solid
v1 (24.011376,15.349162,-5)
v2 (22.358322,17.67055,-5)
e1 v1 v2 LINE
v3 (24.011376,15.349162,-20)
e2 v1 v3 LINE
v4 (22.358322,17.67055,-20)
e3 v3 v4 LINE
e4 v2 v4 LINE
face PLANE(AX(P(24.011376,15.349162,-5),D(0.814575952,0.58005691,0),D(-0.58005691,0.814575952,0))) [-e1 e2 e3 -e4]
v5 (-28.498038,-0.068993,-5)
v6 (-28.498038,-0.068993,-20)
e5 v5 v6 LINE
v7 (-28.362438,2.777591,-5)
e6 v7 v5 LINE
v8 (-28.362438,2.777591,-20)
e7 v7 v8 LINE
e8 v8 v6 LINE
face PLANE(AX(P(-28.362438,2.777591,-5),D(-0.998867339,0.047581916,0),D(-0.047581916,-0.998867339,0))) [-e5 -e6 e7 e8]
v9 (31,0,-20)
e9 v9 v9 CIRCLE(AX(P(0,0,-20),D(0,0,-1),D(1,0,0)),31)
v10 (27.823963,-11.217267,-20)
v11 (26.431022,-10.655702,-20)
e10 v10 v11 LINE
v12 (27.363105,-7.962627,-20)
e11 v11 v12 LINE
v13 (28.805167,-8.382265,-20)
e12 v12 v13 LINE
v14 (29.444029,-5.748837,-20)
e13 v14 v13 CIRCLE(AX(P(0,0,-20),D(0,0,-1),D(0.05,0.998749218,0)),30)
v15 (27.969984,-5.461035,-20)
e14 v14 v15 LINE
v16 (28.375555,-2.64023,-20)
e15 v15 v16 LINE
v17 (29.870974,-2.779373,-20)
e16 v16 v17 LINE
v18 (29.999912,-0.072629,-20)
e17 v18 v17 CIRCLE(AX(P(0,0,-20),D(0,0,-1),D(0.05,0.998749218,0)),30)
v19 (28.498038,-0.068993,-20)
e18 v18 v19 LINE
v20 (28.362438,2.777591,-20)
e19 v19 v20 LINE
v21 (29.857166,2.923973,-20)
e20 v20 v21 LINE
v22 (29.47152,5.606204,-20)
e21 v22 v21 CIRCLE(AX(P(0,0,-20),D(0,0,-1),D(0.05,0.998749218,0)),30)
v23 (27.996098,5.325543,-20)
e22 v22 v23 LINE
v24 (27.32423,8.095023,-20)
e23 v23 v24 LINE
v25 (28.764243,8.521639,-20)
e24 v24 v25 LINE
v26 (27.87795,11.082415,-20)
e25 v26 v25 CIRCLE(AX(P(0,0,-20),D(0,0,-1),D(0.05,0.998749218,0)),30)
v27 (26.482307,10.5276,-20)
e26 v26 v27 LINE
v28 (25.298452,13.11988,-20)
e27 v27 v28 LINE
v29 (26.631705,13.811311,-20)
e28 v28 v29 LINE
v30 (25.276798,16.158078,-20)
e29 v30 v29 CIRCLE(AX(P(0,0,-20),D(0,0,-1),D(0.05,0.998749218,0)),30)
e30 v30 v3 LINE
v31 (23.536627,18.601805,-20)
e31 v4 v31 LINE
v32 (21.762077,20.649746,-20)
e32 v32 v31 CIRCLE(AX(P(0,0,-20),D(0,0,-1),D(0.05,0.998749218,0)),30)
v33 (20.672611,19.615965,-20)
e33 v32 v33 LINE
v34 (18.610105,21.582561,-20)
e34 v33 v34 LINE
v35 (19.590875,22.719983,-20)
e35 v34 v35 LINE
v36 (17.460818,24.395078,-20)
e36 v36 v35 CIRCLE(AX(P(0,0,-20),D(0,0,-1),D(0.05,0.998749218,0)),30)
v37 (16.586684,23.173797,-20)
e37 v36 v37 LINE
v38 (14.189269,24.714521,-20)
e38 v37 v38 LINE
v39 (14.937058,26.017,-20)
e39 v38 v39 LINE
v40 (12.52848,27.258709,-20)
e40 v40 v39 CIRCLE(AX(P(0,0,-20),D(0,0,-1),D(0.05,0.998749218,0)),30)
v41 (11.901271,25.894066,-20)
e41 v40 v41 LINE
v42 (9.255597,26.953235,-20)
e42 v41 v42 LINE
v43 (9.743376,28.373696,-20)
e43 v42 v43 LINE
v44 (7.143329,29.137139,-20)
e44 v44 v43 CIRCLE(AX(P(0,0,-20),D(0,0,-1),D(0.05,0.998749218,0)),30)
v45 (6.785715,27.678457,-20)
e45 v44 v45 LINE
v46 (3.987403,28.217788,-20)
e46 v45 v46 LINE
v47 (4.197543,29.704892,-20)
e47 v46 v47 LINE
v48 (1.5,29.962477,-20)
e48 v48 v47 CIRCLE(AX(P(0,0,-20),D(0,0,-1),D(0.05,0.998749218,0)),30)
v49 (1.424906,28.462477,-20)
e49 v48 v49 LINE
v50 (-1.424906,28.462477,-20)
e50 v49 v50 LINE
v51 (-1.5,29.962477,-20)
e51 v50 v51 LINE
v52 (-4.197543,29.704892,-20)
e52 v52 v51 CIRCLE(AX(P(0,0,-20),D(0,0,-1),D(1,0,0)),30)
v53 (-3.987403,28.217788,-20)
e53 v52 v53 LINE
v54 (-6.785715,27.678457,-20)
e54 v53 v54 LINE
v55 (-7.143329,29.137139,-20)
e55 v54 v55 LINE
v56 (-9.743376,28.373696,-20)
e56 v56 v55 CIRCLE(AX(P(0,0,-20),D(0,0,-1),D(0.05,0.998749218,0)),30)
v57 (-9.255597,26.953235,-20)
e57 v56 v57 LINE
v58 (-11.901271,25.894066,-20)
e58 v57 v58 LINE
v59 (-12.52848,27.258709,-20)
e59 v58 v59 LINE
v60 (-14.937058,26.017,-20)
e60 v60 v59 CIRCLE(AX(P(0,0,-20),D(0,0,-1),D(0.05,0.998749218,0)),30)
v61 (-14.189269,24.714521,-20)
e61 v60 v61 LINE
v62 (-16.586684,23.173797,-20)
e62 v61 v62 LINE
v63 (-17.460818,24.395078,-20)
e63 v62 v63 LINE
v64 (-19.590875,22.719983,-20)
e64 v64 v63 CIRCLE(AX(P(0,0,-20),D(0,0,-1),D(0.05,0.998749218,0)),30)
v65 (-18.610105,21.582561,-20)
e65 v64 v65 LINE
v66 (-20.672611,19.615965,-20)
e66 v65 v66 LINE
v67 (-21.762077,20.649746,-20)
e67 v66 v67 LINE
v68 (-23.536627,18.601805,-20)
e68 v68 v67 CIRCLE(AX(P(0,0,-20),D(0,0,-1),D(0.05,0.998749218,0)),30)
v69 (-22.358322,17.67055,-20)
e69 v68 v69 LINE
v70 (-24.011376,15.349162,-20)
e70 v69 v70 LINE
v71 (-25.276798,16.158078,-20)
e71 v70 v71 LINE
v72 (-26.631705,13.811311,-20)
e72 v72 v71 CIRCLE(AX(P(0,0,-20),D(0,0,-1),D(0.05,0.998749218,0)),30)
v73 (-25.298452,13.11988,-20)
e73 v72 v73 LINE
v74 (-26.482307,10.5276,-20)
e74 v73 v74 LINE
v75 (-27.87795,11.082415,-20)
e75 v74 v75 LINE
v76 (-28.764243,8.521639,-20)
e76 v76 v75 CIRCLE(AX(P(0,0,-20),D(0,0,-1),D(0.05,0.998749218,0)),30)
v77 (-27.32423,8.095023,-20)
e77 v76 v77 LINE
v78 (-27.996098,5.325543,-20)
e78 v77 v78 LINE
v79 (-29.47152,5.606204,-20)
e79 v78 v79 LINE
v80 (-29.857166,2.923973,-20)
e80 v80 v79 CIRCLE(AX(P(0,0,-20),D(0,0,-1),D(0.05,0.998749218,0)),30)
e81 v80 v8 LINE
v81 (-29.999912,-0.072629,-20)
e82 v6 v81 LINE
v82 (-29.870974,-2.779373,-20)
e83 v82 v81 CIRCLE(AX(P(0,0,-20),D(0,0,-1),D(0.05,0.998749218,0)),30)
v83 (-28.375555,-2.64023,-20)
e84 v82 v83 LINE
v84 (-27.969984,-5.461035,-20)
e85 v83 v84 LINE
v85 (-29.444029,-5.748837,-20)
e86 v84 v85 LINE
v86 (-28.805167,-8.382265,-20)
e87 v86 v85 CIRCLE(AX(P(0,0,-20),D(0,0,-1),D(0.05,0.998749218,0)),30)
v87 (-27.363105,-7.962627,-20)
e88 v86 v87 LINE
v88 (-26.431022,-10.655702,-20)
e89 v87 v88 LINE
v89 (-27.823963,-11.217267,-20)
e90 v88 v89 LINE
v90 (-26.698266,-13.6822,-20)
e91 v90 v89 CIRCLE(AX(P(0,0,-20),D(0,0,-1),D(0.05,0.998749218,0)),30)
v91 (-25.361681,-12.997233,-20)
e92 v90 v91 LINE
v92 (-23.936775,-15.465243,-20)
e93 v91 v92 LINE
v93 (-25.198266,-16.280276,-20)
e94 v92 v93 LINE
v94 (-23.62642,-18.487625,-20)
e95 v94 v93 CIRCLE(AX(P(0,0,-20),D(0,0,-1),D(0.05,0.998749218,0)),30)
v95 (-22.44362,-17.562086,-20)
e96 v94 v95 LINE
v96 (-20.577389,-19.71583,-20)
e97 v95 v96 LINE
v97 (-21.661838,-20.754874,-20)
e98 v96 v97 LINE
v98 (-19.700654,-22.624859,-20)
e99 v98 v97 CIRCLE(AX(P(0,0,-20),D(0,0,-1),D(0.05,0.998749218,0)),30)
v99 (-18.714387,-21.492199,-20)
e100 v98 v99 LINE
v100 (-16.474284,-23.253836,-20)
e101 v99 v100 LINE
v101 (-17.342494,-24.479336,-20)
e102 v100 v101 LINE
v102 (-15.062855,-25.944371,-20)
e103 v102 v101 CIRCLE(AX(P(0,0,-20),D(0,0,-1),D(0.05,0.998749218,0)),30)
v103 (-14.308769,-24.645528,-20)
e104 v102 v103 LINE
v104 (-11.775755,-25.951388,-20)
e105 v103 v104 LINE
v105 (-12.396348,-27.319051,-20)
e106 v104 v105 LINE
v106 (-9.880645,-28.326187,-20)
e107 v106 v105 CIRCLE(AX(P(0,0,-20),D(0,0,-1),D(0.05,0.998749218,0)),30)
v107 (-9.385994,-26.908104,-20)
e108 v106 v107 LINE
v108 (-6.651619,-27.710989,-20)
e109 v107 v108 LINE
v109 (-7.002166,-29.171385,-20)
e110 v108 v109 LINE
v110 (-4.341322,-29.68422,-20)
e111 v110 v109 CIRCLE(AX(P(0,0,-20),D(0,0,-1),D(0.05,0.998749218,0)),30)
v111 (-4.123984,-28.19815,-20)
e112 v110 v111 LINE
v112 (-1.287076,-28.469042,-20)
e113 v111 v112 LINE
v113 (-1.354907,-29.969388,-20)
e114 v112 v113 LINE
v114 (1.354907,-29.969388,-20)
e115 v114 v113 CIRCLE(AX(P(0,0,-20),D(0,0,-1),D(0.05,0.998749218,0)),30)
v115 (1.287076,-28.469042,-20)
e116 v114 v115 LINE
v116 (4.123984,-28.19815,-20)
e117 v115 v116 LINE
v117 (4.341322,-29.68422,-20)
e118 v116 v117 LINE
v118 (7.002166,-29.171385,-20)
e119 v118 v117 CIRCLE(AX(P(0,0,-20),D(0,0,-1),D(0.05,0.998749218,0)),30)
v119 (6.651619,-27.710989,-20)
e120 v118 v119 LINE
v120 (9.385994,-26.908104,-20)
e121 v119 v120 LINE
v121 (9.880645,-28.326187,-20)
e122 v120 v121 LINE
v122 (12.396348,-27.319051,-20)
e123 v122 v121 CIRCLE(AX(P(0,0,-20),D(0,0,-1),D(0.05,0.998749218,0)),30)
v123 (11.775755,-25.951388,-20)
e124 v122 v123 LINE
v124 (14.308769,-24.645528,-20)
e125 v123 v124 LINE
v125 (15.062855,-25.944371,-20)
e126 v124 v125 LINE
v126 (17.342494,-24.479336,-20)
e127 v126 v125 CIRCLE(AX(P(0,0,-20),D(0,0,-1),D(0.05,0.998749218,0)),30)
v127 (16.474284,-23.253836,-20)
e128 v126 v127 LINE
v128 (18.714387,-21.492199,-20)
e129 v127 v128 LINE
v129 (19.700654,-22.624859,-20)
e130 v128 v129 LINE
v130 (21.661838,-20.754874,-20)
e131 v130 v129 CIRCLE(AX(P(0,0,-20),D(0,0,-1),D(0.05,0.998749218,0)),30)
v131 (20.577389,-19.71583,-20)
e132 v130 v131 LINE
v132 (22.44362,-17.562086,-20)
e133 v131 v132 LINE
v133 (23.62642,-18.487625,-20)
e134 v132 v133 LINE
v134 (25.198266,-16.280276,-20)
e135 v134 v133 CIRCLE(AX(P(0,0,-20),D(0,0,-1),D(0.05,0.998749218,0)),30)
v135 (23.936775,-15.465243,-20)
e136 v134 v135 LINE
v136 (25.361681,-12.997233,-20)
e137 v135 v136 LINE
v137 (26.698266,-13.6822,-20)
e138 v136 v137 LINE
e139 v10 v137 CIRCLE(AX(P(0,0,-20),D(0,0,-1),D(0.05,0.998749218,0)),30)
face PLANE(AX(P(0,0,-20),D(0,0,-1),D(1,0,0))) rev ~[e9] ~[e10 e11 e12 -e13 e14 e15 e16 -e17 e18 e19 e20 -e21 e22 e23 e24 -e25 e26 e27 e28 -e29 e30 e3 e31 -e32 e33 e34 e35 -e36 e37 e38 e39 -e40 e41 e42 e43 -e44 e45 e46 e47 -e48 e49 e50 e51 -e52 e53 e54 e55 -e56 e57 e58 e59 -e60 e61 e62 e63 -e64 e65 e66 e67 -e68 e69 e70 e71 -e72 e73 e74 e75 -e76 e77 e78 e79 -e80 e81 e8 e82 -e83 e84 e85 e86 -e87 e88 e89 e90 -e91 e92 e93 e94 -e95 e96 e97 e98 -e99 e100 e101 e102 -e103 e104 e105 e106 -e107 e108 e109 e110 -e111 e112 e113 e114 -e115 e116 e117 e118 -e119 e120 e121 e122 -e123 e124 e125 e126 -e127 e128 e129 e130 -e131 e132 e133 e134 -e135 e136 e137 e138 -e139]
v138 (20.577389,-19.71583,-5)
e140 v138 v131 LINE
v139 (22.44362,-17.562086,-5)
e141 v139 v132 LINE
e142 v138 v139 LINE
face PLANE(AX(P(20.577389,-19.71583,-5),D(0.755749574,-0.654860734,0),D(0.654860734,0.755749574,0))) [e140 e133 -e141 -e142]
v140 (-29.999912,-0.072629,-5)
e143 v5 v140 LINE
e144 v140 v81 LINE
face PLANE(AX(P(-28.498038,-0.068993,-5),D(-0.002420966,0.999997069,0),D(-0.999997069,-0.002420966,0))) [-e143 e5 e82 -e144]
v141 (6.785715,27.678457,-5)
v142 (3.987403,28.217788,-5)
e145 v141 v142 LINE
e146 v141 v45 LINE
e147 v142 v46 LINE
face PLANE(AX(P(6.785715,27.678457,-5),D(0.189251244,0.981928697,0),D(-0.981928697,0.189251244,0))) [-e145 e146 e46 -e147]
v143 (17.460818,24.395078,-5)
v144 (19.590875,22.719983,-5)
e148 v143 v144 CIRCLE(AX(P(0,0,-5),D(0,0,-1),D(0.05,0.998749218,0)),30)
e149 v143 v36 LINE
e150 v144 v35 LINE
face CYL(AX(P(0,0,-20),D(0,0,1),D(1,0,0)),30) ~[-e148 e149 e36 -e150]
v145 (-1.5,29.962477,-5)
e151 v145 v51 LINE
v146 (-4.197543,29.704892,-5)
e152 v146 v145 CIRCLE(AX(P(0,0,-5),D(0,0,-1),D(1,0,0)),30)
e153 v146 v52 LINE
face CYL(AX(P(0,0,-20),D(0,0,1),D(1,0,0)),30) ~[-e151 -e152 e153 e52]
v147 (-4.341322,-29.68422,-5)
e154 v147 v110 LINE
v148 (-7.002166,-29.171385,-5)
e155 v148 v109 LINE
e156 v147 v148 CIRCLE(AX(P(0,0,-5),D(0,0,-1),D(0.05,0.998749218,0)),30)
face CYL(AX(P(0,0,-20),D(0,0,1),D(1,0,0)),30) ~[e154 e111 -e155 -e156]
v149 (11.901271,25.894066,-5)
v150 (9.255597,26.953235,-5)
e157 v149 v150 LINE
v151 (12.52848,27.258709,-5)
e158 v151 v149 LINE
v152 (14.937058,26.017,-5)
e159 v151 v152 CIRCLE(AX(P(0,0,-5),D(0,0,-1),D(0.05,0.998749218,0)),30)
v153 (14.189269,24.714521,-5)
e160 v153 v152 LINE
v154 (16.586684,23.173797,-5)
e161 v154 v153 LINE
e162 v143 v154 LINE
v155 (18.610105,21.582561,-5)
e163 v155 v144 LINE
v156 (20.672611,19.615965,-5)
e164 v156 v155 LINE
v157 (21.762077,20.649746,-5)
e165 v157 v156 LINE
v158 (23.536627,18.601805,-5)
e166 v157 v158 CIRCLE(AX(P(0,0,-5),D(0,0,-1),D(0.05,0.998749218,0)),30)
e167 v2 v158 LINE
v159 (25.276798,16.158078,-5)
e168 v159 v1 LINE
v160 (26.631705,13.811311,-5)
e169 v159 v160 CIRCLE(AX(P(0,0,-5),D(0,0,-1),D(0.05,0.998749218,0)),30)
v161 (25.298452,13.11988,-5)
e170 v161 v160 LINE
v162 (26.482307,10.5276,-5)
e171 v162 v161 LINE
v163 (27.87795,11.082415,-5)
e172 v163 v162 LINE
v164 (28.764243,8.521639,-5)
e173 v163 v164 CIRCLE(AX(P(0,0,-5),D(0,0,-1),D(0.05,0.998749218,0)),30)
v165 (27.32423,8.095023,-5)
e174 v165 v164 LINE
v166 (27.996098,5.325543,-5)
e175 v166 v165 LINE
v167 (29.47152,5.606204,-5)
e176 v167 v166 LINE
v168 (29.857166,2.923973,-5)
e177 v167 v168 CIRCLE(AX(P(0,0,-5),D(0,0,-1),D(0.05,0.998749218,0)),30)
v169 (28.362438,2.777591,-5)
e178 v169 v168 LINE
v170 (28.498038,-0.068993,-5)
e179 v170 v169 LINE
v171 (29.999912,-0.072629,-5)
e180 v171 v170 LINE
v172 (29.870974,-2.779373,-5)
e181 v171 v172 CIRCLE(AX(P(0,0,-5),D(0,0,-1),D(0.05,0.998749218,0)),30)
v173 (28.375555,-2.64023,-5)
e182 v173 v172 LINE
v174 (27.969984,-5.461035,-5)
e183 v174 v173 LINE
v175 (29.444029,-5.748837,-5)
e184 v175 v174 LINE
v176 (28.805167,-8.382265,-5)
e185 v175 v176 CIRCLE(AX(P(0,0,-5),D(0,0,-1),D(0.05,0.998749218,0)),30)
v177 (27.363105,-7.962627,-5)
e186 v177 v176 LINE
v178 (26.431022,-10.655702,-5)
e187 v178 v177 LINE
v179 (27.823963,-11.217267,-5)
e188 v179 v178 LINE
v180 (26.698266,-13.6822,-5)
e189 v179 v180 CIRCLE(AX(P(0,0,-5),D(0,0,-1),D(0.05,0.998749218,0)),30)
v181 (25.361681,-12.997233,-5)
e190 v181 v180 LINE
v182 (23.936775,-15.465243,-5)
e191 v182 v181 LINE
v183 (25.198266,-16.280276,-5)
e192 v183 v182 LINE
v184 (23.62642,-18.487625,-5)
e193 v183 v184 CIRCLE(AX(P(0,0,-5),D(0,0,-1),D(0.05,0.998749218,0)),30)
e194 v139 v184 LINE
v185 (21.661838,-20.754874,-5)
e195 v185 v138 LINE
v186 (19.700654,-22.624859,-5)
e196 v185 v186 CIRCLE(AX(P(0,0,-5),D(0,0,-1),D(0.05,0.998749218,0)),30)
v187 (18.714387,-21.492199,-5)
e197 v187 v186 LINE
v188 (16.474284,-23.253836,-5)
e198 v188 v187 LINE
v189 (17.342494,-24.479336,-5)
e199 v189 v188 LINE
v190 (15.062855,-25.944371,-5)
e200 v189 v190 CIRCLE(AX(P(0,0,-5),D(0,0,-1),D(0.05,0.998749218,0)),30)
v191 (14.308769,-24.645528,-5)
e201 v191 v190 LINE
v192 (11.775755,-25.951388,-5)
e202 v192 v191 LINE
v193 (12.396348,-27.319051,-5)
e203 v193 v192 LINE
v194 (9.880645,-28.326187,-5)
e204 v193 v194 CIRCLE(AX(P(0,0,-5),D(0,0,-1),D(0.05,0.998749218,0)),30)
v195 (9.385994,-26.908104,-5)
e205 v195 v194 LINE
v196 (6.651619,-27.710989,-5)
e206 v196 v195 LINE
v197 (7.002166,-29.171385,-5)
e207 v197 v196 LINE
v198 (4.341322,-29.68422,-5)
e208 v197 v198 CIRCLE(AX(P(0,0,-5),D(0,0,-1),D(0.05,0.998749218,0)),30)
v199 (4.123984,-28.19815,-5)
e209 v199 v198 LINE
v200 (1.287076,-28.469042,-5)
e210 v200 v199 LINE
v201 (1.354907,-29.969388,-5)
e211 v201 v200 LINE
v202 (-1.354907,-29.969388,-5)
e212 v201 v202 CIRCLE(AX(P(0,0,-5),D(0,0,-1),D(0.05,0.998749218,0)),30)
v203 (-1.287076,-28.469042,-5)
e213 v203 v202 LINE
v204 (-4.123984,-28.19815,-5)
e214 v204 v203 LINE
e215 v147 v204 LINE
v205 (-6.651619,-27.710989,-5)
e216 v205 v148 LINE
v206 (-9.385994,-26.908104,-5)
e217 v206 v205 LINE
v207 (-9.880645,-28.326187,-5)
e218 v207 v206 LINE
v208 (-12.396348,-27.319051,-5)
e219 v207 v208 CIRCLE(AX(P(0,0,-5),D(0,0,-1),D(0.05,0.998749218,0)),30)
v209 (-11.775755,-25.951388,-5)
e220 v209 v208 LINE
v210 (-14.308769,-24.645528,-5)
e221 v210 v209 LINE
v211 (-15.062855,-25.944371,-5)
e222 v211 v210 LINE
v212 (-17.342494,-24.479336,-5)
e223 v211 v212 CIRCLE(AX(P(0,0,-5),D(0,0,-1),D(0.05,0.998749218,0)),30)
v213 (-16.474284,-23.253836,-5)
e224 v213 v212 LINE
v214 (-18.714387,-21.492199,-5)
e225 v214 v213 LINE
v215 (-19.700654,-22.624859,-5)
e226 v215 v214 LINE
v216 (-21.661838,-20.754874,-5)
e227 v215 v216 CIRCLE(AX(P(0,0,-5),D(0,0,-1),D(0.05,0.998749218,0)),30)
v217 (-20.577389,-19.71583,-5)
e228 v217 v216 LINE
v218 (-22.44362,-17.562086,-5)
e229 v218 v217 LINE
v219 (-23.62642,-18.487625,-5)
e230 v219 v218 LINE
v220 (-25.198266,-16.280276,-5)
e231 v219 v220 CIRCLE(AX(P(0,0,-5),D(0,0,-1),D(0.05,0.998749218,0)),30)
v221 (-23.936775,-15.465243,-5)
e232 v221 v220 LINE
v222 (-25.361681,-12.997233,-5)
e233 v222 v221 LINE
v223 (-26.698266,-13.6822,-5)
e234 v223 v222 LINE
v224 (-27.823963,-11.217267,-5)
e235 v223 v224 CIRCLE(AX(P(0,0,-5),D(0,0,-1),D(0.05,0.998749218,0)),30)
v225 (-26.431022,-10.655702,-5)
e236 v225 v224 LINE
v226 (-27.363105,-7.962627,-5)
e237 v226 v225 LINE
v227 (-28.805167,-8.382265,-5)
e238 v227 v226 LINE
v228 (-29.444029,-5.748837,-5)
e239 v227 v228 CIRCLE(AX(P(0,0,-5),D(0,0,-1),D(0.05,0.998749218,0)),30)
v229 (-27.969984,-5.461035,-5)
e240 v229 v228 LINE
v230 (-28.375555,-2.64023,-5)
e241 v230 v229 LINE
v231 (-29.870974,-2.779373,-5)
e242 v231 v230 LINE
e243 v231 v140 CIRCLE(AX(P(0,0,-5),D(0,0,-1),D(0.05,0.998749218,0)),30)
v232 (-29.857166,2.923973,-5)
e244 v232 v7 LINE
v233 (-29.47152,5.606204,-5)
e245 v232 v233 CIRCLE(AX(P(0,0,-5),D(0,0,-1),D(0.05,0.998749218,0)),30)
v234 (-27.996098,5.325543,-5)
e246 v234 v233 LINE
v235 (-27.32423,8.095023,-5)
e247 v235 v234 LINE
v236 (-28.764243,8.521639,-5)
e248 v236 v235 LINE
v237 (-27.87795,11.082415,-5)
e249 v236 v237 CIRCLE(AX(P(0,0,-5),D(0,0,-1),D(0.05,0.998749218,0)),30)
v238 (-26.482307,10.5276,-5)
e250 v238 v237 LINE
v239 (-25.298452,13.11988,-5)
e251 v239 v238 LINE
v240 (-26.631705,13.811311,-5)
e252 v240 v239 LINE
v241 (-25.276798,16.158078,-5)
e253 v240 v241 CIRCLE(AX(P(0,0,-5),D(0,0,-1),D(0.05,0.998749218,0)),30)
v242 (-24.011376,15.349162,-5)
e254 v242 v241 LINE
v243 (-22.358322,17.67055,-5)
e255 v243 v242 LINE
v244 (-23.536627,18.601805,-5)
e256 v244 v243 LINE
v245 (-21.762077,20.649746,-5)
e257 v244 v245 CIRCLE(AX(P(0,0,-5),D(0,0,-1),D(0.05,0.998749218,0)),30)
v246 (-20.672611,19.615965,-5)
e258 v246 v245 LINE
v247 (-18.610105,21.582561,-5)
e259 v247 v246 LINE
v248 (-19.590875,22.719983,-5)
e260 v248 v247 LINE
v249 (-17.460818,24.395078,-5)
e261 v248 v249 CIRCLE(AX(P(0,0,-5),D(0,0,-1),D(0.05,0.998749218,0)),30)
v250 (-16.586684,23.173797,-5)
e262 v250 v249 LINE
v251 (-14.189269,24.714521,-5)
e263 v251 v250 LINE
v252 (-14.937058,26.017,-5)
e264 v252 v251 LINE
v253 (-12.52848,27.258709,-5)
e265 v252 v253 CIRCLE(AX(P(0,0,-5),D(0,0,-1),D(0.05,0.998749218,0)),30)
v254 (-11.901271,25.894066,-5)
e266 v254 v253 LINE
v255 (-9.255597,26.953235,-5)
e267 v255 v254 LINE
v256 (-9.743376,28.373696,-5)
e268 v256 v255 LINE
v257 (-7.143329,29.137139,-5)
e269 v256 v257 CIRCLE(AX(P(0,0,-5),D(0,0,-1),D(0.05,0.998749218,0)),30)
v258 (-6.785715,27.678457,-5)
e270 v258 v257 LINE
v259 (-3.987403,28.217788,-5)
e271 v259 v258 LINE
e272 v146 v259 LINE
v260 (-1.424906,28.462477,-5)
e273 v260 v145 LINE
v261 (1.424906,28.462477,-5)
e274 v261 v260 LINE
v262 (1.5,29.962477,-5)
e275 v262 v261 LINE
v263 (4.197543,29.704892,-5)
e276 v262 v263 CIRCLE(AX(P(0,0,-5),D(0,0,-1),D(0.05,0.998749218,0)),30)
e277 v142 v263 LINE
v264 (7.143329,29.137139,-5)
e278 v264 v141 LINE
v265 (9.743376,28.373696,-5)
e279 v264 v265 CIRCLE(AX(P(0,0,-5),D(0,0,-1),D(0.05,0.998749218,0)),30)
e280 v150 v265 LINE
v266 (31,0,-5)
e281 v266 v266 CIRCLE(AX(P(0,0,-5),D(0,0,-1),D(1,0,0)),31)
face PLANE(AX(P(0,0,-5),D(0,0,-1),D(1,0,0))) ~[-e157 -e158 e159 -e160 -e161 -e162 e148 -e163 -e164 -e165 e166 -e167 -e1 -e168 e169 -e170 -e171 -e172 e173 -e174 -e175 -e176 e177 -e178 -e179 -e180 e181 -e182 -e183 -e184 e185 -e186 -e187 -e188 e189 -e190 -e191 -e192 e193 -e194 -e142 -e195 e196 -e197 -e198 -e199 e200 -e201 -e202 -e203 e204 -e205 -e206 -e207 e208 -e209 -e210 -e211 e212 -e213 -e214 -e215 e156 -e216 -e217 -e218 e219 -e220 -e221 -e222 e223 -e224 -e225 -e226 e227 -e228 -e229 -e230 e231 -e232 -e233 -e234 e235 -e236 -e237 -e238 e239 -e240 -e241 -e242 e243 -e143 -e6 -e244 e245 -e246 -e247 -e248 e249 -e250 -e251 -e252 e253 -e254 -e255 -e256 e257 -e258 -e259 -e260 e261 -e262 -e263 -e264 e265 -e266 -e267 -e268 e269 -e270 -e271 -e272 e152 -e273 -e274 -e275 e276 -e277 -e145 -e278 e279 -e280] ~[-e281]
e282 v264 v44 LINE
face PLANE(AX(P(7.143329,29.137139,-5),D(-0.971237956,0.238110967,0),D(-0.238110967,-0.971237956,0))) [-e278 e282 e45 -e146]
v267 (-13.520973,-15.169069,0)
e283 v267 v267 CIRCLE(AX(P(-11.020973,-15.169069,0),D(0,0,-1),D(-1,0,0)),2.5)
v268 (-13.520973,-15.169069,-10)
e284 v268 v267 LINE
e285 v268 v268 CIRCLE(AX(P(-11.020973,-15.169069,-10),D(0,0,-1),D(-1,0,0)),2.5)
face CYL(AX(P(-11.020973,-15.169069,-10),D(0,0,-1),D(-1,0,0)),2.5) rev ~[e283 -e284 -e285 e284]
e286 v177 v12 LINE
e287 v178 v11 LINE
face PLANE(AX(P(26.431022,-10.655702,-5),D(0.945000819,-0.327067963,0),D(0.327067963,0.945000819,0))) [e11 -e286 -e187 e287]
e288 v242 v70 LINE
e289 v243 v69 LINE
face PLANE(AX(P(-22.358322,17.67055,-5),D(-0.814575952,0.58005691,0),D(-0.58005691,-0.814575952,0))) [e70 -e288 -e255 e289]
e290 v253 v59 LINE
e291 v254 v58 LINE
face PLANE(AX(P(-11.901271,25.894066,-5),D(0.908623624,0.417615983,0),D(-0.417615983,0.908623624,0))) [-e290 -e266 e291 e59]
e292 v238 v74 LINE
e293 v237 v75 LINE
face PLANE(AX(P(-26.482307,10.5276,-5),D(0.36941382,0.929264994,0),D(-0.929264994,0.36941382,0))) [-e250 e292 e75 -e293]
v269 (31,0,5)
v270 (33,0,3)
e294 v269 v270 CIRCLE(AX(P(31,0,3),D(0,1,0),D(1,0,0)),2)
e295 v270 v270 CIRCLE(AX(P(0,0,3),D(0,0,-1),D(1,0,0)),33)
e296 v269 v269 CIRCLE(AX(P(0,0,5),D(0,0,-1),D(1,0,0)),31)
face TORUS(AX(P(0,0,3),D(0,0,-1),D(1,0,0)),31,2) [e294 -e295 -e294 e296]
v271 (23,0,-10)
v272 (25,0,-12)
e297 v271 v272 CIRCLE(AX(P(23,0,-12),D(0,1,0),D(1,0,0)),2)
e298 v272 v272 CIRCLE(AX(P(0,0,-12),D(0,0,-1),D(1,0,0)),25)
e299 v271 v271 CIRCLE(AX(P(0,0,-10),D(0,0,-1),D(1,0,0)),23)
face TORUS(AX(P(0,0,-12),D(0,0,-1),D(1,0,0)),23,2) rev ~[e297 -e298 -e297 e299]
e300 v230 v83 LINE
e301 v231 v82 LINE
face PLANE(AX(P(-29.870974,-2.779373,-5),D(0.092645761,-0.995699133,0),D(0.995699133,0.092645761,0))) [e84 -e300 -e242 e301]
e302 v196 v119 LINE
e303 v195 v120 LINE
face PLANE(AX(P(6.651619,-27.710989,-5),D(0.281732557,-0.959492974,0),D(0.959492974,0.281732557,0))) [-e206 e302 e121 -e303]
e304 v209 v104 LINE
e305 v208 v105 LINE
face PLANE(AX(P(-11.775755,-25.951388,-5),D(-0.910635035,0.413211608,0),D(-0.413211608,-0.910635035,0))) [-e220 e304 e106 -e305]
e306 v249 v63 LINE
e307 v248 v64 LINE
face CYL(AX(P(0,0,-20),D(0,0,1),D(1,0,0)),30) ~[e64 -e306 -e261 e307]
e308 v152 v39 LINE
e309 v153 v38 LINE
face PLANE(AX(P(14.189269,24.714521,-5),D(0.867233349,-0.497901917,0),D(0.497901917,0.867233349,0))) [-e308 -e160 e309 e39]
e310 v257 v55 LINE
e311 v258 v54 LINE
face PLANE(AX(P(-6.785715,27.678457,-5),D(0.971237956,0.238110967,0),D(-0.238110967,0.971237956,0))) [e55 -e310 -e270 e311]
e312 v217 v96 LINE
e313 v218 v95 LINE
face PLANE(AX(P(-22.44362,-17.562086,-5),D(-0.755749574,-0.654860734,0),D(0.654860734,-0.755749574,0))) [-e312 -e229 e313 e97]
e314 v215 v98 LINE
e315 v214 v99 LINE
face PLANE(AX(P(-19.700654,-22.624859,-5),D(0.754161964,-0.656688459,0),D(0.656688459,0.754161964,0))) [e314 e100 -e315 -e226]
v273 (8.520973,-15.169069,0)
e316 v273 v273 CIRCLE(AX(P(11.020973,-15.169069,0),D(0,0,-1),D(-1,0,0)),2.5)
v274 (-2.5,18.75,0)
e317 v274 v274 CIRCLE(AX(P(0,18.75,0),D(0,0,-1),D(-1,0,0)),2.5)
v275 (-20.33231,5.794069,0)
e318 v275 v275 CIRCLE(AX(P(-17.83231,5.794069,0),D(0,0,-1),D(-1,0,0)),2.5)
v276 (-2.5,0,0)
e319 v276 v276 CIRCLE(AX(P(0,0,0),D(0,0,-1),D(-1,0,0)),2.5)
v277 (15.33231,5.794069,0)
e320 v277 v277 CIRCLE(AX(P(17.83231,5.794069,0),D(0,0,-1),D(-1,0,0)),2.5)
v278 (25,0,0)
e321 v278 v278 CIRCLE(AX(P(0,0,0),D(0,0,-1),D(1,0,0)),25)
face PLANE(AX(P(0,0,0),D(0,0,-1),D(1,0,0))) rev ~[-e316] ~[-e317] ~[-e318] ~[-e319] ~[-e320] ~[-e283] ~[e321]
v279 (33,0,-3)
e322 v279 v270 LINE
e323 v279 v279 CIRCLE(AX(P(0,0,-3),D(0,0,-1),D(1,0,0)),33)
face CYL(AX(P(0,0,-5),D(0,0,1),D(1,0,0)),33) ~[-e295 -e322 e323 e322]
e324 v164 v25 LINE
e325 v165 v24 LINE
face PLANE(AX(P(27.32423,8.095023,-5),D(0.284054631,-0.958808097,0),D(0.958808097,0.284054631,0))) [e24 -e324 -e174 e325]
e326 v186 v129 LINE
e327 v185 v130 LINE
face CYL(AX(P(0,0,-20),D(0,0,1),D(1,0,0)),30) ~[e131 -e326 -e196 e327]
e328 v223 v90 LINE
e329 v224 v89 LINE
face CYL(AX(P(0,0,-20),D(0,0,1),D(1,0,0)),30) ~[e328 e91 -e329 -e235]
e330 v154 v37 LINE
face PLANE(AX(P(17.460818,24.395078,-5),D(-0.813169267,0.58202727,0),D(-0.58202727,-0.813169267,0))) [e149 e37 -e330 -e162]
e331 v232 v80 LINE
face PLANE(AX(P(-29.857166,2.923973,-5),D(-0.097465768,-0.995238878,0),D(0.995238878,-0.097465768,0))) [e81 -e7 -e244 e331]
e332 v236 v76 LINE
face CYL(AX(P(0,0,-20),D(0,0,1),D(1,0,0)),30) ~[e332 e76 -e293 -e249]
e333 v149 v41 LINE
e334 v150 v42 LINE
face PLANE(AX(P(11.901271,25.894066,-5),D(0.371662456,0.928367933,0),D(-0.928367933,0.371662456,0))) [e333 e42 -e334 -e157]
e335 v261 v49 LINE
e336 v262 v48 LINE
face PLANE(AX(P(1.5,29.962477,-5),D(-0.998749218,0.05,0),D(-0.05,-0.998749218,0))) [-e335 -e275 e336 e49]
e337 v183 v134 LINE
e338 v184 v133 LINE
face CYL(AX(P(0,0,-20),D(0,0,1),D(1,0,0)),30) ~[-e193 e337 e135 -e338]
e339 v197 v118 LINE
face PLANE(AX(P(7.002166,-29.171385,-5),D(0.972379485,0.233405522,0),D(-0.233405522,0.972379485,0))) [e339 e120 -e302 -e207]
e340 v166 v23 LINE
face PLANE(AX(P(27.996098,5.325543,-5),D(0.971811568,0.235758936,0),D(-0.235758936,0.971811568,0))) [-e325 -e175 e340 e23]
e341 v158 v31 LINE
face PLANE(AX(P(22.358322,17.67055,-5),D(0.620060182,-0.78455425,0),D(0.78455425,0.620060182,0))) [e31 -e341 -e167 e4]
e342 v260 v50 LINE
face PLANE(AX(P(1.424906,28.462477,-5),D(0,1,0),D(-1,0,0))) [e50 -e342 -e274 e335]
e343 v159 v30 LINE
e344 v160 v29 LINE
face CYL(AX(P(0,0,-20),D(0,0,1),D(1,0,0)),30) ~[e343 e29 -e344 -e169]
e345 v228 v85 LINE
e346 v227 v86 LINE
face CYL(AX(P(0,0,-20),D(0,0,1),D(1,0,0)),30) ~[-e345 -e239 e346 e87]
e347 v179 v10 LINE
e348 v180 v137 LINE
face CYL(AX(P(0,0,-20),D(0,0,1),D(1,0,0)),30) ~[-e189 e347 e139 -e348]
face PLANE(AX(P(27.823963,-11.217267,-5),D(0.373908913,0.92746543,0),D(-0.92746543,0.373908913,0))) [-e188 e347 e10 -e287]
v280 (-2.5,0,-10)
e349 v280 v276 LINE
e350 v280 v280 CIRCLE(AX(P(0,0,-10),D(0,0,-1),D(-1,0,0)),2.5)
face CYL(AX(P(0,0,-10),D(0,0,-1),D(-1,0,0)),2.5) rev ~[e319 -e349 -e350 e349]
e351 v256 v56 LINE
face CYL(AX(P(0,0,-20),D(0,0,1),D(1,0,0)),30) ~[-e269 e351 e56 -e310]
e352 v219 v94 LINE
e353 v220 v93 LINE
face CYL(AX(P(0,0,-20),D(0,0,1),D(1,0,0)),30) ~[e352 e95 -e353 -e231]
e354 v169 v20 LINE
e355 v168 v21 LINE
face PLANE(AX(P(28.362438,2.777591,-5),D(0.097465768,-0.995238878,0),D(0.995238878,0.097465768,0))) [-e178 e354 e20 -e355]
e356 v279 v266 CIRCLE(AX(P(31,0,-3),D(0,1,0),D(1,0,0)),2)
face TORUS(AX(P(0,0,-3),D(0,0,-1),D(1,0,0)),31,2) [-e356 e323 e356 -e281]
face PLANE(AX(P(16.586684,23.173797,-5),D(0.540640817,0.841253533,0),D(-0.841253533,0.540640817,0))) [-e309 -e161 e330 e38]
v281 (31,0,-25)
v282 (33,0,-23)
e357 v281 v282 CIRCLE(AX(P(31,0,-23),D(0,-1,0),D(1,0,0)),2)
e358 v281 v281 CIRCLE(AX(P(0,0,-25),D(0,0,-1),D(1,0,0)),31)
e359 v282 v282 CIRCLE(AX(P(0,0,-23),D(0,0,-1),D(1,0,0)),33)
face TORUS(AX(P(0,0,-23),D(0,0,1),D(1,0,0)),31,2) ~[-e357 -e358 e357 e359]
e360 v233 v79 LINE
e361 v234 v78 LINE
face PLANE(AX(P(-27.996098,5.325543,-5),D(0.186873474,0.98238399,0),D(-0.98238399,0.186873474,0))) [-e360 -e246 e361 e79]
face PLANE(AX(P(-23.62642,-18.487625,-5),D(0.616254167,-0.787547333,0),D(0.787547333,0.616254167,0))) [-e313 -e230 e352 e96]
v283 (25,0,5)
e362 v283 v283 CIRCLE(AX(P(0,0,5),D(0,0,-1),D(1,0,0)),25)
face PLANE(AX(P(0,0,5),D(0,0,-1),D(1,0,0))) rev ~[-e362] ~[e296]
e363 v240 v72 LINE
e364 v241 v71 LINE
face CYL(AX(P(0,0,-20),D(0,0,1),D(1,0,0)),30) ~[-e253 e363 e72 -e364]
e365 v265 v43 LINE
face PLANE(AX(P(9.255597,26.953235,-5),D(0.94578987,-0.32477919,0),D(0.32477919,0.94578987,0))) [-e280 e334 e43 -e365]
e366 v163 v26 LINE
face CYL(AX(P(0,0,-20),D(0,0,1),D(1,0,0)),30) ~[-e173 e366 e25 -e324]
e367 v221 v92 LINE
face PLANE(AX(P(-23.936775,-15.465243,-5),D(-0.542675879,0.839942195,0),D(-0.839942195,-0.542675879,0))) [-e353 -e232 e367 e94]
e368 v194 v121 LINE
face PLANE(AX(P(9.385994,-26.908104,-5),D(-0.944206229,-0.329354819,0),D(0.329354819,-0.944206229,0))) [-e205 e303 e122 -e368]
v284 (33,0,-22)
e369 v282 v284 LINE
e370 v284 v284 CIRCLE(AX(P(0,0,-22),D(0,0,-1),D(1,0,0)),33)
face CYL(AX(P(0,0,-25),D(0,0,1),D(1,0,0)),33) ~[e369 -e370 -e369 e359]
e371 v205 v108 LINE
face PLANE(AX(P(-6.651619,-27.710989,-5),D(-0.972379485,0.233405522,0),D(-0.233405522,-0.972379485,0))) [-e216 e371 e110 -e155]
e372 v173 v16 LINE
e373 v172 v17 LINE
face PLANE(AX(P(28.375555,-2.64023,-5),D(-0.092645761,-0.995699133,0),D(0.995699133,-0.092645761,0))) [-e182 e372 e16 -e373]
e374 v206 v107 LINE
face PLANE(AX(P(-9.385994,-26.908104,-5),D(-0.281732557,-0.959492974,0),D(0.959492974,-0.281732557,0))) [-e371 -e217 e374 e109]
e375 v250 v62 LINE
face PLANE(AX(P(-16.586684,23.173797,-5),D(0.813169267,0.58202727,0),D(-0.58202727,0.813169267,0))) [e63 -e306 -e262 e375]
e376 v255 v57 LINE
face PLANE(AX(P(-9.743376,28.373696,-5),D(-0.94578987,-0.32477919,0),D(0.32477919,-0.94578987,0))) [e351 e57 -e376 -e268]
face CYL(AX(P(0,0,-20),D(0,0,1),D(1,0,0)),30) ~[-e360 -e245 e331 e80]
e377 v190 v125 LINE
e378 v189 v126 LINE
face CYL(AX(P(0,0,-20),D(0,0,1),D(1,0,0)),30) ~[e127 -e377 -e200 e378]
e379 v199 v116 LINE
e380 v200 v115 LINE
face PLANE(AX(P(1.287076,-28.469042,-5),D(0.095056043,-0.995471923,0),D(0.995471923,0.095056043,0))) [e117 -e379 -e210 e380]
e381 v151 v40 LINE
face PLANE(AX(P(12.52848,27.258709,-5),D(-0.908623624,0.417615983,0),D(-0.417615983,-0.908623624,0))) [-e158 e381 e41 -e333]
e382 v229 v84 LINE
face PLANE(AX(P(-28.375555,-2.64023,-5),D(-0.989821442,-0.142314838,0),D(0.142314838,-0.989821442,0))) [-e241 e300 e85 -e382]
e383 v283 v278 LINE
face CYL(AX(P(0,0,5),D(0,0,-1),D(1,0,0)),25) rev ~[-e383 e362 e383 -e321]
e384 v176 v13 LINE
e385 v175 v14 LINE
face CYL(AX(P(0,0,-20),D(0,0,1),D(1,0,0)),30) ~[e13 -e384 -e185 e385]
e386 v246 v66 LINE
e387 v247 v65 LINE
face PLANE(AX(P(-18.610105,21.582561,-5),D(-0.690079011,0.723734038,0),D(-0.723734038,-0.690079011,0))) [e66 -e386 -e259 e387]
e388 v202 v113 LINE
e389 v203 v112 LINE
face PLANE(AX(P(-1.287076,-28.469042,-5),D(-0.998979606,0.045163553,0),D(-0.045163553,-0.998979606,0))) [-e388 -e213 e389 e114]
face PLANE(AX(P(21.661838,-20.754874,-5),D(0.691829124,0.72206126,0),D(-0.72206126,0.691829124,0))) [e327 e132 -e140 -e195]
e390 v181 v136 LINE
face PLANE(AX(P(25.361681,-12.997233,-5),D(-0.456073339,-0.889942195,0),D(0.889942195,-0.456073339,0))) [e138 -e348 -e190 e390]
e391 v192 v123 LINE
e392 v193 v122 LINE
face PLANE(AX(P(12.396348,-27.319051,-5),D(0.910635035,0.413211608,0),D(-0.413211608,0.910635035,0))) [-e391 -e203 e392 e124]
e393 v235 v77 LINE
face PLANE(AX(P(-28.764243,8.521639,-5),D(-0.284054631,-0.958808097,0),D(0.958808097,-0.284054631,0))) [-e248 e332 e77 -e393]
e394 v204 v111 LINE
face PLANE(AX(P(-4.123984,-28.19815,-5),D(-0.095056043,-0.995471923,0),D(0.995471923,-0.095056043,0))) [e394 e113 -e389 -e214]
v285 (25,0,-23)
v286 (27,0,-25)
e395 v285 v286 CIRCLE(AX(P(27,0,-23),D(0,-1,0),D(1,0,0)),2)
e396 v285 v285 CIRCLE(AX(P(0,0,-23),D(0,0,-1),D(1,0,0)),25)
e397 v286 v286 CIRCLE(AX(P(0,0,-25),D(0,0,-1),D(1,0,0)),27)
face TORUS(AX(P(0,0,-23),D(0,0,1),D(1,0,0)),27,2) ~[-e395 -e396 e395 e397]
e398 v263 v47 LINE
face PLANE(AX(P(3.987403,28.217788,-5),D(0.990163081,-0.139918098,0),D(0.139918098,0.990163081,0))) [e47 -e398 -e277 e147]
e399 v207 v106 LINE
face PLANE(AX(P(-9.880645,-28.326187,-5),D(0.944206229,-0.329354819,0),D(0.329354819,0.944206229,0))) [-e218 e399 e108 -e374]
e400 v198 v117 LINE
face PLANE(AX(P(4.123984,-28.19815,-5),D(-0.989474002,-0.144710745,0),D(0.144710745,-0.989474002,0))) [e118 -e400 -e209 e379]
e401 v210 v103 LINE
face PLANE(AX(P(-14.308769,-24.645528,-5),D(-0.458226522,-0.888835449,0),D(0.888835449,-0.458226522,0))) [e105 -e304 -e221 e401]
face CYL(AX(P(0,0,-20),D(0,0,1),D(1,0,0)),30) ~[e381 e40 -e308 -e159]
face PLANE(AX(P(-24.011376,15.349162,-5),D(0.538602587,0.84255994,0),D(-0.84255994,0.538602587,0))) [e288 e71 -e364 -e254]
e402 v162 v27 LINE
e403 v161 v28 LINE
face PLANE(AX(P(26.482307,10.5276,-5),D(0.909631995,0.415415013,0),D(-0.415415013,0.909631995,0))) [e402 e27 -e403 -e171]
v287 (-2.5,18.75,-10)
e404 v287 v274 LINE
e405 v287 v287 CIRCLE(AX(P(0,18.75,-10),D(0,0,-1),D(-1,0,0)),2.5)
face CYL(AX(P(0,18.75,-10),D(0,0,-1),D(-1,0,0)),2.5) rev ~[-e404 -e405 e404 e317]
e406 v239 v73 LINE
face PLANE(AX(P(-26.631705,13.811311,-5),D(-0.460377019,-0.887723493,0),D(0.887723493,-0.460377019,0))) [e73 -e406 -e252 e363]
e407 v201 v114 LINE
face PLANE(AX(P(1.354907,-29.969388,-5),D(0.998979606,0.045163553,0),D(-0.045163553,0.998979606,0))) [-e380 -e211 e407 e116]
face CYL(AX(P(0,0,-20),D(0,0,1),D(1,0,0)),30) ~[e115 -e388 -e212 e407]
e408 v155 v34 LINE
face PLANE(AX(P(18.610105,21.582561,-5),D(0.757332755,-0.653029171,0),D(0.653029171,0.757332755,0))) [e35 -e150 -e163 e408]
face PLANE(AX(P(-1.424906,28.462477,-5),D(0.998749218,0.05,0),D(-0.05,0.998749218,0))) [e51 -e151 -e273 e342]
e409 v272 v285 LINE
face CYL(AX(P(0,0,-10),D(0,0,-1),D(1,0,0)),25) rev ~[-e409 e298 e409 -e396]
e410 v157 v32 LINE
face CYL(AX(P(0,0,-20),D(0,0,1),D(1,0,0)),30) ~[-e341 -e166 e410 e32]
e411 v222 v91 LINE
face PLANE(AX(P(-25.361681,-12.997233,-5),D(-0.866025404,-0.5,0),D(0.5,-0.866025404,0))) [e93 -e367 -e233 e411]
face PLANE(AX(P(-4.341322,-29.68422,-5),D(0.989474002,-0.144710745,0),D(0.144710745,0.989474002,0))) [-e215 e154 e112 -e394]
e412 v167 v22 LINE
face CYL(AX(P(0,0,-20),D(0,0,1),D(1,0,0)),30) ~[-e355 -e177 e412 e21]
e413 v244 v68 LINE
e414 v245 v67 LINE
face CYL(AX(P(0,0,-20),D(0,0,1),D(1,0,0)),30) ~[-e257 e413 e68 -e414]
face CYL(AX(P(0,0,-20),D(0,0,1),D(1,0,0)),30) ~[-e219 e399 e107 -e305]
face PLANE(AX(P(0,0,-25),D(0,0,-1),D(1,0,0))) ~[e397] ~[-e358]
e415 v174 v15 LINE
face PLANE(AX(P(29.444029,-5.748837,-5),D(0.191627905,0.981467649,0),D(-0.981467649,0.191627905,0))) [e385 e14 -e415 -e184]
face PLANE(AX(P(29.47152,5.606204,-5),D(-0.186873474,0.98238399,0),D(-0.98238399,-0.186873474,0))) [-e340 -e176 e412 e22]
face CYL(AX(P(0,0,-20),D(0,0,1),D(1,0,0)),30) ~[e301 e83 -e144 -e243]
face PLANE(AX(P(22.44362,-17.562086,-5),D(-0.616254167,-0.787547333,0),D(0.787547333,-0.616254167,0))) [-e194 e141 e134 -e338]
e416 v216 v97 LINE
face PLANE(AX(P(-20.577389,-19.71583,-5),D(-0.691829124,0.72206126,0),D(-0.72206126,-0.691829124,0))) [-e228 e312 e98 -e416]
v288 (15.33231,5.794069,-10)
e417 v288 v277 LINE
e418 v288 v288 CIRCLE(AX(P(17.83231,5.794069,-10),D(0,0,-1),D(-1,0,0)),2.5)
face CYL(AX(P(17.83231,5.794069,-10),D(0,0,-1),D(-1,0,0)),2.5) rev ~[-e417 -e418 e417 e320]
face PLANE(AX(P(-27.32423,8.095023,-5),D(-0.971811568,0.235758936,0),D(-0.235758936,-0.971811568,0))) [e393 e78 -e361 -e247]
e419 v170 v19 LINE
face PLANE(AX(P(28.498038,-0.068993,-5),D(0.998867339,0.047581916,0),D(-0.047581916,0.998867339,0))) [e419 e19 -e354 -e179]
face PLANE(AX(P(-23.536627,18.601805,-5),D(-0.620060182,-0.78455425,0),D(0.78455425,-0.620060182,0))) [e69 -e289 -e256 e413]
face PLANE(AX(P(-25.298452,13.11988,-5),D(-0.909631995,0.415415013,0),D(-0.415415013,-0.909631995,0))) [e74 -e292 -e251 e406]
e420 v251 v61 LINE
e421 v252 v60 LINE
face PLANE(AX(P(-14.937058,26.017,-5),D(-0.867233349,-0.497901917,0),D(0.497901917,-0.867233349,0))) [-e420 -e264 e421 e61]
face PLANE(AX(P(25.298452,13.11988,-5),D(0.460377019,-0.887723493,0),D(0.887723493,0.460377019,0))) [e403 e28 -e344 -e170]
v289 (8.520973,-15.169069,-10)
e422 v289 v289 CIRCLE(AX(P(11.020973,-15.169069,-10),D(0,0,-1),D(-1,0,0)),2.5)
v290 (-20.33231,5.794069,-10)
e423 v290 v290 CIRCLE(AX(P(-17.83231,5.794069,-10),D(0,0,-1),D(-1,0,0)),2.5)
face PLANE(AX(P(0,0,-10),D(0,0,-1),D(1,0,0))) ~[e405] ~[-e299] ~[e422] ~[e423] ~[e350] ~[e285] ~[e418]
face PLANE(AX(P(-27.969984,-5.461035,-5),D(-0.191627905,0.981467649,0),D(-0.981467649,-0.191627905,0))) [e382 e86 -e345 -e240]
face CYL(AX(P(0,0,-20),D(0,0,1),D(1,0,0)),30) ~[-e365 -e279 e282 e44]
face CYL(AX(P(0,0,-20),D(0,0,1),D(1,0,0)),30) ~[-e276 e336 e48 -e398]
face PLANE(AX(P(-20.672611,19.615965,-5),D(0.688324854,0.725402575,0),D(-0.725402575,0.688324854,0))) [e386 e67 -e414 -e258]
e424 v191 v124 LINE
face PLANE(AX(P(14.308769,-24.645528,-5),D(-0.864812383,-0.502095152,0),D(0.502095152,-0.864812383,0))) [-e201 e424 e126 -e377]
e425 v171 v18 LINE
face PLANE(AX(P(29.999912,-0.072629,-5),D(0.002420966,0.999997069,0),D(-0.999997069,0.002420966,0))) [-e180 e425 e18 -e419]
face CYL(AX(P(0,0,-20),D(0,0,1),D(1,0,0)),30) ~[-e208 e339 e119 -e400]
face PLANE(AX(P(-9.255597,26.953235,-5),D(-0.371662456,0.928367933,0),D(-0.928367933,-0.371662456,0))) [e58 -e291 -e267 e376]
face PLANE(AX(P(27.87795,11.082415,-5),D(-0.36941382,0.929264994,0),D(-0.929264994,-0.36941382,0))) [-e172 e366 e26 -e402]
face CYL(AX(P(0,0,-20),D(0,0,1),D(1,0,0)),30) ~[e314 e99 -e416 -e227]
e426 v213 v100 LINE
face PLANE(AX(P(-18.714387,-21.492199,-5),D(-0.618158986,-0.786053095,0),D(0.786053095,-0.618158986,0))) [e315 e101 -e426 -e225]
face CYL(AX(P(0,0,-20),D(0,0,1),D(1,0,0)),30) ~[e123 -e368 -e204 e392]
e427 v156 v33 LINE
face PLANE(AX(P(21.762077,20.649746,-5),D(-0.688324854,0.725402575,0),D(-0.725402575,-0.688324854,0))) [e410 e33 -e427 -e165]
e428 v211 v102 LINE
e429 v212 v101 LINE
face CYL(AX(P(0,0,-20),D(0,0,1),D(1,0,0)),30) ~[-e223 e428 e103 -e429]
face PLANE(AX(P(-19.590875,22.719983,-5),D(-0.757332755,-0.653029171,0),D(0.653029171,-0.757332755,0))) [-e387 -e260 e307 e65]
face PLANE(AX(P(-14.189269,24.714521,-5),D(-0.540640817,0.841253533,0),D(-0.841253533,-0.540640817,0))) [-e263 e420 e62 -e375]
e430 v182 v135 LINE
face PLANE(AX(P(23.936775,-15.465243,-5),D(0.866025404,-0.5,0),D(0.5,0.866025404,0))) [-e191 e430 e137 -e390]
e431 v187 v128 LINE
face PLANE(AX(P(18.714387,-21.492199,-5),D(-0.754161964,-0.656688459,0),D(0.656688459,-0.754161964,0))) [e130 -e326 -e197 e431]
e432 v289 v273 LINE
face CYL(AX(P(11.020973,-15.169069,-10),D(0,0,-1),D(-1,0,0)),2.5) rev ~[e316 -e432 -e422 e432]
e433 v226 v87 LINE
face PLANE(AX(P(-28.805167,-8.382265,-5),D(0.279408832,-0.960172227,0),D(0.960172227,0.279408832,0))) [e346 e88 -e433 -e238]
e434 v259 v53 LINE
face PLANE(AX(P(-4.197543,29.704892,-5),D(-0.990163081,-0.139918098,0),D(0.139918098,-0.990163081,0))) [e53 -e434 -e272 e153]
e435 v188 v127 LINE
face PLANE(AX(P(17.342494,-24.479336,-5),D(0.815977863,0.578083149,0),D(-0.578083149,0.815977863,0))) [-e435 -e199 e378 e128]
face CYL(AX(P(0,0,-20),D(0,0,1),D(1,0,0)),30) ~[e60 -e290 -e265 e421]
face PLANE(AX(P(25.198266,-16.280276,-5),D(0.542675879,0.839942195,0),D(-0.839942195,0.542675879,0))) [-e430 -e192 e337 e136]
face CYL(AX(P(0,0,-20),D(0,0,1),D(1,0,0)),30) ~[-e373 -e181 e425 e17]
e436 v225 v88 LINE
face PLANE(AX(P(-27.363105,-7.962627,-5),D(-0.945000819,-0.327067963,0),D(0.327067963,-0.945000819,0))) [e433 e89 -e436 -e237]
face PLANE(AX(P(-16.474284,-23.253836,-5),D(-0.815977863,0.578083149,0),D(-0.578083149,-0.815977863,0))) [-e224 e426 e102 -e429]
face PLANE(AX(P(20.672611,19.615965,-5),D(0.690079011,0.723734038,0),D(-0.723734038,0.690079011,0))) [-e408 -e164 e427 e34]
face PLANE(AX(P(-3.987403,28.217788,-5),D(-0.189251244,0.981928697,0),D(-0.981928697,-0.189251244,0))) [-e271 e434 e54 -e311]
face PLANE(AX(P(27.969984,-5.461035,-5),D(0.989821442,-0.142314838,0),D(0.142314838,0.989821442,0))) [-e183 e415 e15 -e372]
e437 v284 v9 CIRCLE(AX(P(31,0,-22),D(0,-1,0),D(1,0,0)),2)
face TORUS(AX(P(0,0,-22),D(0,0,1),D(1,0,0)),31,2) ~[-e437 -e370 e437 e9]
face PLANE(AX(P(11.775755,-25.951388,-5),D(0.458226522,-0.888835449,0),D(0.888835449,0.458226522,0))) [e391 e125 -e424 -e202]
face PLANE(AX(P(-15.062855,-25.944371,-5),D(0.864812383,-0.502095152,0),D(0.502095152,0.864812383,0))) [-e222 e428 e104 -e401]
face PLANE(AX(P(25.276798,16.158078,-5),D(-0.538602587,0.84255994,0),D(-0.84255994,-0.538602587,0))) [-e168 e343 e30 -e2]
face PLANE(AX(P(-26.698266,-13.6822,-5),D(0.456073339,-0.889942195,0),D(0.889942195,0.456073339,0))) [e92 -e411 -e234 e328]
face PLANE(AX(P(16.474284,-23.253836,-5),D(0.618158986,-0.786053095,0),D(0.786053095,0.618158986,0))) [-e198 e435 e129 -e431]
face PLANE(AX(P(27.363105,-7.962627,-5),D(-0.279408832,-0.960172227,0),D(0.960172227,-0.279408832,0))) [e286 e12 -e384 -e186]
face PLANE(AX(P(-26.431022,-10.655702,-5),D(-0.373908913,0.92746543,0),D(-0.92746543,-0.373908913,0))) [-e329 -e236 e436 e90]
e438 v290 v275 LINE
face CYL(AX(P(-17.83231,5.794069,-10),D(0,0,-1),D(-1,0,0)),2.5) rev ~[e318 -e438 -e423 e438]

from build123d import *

# Parameters (mm, degrees)
SKETCH2_R               = 2.5
CUT_EXTRUDE2_DEPTH      = 16
CUT_EXTRUDE2_DEPTH_BACK = 16
CUT_EXTRUDE4_DEPTH      = 15
CIRPATTERN1_COUNT       = 33
FILLET1_R               = 2


with BuildPart() as part:
    # Sketch1 → Revolve1 (revolve)
    with BuildSketch(Plane(origin=(0, 0, 0), x_dir=(1, 0, 0), z_dir=(0, 1, 0))):
        Polygon((0, 0), (0, 10), (25, 10), (25, 25), (33, 25), (33, 20), (30, 20), (30, 5), (33, 5), (33, -5), (25, -5), (25, 0), align=None)
    revolve(axis=Axis((0, 0, 0), (0, 0, -1)))

    # Sketch2 → Cut-Extrude2 (cut, two sides)
    with BuildSketch(Plane(origin=(0, 0, -10), x_dir=(-1, 0, 0), z_dir=(0, 0, -1))) as cut_extrude2_sk:
        with Locations((0, 18.75)):
            Circle(SKETCH2_R)
        Circle(SKETCH2_R)
        with Locations((17.832309681, 5.794068645)):
            Circle(SKETCH2_R)
        with Locations((11.02097348, -15.169068645)):
            Circle(SKETCH2_R)
        with Locations((-11.02097348, -15.169068645)):
            Circle(SKETCH2_R)
        with Locations((-17.832309681, 5.794068645)):
            Circle(SKETCH2_R)
    extrude(amount=CUT_EXTRUDE2_DEPTH, mode=Mode.SUBTRACT)
    extrude(cut_extrude2_sk.sketch, amount=-CUT_EXTRUDE2_DEPTH_BACK, mode=Mode.SUBTRACT)

    # Sketch4 → Cut-Extrude4 (cut)
    with BuildSketch(Plane(origin=(0, 0, -5), x_dir=(-1, 0, 0), z_dir=(0, 0, -1))):
        with BuildLine():
            Line((-1.424906074, 28.462476533), (1.424906074, 28.462476533))
            Line((1.424906074, 28.462476533), (1.5, 29.962476533))
            ThreePointArc((1.5, 29.962476533), (0, 30), (-1.5, 29.962476533))
            Line((-1.5, 29.962476533), (-1.424906074, 28.462476533))
        make_face()
    cut_extrude4 = extrude(amount=CUT_EXTRUDE4_DEPTH, mode=Mode.SUBTRACT)

    # CirPattern1: Cut-Extrude4 ×33 about axis
    cirpattern1_axis = Axis((0, 0, 0), (0, 0, 1))
    for i in range(1, CIRPATTERN1_COUNT):
        add(cut_extrude4.rotate(cirpattern1_axis, i * 360 / CIRPATTERN1_COUNT), mode=Mode.SUBTRACT)

    # Fillet1
    fillet1_edges = [part.edges().sort_by_distance(p)[0] for p in [
        (-33, 0, 5),
        (-33, 0, -5),
        (-33, 0, -20),
        (-33, 0, -25),
        (-25, 0, -25),
        (-25, 0, -10),
    ]]
    fillet(fillet1_edges, radius=FILLET1_R)


solid = part.part
